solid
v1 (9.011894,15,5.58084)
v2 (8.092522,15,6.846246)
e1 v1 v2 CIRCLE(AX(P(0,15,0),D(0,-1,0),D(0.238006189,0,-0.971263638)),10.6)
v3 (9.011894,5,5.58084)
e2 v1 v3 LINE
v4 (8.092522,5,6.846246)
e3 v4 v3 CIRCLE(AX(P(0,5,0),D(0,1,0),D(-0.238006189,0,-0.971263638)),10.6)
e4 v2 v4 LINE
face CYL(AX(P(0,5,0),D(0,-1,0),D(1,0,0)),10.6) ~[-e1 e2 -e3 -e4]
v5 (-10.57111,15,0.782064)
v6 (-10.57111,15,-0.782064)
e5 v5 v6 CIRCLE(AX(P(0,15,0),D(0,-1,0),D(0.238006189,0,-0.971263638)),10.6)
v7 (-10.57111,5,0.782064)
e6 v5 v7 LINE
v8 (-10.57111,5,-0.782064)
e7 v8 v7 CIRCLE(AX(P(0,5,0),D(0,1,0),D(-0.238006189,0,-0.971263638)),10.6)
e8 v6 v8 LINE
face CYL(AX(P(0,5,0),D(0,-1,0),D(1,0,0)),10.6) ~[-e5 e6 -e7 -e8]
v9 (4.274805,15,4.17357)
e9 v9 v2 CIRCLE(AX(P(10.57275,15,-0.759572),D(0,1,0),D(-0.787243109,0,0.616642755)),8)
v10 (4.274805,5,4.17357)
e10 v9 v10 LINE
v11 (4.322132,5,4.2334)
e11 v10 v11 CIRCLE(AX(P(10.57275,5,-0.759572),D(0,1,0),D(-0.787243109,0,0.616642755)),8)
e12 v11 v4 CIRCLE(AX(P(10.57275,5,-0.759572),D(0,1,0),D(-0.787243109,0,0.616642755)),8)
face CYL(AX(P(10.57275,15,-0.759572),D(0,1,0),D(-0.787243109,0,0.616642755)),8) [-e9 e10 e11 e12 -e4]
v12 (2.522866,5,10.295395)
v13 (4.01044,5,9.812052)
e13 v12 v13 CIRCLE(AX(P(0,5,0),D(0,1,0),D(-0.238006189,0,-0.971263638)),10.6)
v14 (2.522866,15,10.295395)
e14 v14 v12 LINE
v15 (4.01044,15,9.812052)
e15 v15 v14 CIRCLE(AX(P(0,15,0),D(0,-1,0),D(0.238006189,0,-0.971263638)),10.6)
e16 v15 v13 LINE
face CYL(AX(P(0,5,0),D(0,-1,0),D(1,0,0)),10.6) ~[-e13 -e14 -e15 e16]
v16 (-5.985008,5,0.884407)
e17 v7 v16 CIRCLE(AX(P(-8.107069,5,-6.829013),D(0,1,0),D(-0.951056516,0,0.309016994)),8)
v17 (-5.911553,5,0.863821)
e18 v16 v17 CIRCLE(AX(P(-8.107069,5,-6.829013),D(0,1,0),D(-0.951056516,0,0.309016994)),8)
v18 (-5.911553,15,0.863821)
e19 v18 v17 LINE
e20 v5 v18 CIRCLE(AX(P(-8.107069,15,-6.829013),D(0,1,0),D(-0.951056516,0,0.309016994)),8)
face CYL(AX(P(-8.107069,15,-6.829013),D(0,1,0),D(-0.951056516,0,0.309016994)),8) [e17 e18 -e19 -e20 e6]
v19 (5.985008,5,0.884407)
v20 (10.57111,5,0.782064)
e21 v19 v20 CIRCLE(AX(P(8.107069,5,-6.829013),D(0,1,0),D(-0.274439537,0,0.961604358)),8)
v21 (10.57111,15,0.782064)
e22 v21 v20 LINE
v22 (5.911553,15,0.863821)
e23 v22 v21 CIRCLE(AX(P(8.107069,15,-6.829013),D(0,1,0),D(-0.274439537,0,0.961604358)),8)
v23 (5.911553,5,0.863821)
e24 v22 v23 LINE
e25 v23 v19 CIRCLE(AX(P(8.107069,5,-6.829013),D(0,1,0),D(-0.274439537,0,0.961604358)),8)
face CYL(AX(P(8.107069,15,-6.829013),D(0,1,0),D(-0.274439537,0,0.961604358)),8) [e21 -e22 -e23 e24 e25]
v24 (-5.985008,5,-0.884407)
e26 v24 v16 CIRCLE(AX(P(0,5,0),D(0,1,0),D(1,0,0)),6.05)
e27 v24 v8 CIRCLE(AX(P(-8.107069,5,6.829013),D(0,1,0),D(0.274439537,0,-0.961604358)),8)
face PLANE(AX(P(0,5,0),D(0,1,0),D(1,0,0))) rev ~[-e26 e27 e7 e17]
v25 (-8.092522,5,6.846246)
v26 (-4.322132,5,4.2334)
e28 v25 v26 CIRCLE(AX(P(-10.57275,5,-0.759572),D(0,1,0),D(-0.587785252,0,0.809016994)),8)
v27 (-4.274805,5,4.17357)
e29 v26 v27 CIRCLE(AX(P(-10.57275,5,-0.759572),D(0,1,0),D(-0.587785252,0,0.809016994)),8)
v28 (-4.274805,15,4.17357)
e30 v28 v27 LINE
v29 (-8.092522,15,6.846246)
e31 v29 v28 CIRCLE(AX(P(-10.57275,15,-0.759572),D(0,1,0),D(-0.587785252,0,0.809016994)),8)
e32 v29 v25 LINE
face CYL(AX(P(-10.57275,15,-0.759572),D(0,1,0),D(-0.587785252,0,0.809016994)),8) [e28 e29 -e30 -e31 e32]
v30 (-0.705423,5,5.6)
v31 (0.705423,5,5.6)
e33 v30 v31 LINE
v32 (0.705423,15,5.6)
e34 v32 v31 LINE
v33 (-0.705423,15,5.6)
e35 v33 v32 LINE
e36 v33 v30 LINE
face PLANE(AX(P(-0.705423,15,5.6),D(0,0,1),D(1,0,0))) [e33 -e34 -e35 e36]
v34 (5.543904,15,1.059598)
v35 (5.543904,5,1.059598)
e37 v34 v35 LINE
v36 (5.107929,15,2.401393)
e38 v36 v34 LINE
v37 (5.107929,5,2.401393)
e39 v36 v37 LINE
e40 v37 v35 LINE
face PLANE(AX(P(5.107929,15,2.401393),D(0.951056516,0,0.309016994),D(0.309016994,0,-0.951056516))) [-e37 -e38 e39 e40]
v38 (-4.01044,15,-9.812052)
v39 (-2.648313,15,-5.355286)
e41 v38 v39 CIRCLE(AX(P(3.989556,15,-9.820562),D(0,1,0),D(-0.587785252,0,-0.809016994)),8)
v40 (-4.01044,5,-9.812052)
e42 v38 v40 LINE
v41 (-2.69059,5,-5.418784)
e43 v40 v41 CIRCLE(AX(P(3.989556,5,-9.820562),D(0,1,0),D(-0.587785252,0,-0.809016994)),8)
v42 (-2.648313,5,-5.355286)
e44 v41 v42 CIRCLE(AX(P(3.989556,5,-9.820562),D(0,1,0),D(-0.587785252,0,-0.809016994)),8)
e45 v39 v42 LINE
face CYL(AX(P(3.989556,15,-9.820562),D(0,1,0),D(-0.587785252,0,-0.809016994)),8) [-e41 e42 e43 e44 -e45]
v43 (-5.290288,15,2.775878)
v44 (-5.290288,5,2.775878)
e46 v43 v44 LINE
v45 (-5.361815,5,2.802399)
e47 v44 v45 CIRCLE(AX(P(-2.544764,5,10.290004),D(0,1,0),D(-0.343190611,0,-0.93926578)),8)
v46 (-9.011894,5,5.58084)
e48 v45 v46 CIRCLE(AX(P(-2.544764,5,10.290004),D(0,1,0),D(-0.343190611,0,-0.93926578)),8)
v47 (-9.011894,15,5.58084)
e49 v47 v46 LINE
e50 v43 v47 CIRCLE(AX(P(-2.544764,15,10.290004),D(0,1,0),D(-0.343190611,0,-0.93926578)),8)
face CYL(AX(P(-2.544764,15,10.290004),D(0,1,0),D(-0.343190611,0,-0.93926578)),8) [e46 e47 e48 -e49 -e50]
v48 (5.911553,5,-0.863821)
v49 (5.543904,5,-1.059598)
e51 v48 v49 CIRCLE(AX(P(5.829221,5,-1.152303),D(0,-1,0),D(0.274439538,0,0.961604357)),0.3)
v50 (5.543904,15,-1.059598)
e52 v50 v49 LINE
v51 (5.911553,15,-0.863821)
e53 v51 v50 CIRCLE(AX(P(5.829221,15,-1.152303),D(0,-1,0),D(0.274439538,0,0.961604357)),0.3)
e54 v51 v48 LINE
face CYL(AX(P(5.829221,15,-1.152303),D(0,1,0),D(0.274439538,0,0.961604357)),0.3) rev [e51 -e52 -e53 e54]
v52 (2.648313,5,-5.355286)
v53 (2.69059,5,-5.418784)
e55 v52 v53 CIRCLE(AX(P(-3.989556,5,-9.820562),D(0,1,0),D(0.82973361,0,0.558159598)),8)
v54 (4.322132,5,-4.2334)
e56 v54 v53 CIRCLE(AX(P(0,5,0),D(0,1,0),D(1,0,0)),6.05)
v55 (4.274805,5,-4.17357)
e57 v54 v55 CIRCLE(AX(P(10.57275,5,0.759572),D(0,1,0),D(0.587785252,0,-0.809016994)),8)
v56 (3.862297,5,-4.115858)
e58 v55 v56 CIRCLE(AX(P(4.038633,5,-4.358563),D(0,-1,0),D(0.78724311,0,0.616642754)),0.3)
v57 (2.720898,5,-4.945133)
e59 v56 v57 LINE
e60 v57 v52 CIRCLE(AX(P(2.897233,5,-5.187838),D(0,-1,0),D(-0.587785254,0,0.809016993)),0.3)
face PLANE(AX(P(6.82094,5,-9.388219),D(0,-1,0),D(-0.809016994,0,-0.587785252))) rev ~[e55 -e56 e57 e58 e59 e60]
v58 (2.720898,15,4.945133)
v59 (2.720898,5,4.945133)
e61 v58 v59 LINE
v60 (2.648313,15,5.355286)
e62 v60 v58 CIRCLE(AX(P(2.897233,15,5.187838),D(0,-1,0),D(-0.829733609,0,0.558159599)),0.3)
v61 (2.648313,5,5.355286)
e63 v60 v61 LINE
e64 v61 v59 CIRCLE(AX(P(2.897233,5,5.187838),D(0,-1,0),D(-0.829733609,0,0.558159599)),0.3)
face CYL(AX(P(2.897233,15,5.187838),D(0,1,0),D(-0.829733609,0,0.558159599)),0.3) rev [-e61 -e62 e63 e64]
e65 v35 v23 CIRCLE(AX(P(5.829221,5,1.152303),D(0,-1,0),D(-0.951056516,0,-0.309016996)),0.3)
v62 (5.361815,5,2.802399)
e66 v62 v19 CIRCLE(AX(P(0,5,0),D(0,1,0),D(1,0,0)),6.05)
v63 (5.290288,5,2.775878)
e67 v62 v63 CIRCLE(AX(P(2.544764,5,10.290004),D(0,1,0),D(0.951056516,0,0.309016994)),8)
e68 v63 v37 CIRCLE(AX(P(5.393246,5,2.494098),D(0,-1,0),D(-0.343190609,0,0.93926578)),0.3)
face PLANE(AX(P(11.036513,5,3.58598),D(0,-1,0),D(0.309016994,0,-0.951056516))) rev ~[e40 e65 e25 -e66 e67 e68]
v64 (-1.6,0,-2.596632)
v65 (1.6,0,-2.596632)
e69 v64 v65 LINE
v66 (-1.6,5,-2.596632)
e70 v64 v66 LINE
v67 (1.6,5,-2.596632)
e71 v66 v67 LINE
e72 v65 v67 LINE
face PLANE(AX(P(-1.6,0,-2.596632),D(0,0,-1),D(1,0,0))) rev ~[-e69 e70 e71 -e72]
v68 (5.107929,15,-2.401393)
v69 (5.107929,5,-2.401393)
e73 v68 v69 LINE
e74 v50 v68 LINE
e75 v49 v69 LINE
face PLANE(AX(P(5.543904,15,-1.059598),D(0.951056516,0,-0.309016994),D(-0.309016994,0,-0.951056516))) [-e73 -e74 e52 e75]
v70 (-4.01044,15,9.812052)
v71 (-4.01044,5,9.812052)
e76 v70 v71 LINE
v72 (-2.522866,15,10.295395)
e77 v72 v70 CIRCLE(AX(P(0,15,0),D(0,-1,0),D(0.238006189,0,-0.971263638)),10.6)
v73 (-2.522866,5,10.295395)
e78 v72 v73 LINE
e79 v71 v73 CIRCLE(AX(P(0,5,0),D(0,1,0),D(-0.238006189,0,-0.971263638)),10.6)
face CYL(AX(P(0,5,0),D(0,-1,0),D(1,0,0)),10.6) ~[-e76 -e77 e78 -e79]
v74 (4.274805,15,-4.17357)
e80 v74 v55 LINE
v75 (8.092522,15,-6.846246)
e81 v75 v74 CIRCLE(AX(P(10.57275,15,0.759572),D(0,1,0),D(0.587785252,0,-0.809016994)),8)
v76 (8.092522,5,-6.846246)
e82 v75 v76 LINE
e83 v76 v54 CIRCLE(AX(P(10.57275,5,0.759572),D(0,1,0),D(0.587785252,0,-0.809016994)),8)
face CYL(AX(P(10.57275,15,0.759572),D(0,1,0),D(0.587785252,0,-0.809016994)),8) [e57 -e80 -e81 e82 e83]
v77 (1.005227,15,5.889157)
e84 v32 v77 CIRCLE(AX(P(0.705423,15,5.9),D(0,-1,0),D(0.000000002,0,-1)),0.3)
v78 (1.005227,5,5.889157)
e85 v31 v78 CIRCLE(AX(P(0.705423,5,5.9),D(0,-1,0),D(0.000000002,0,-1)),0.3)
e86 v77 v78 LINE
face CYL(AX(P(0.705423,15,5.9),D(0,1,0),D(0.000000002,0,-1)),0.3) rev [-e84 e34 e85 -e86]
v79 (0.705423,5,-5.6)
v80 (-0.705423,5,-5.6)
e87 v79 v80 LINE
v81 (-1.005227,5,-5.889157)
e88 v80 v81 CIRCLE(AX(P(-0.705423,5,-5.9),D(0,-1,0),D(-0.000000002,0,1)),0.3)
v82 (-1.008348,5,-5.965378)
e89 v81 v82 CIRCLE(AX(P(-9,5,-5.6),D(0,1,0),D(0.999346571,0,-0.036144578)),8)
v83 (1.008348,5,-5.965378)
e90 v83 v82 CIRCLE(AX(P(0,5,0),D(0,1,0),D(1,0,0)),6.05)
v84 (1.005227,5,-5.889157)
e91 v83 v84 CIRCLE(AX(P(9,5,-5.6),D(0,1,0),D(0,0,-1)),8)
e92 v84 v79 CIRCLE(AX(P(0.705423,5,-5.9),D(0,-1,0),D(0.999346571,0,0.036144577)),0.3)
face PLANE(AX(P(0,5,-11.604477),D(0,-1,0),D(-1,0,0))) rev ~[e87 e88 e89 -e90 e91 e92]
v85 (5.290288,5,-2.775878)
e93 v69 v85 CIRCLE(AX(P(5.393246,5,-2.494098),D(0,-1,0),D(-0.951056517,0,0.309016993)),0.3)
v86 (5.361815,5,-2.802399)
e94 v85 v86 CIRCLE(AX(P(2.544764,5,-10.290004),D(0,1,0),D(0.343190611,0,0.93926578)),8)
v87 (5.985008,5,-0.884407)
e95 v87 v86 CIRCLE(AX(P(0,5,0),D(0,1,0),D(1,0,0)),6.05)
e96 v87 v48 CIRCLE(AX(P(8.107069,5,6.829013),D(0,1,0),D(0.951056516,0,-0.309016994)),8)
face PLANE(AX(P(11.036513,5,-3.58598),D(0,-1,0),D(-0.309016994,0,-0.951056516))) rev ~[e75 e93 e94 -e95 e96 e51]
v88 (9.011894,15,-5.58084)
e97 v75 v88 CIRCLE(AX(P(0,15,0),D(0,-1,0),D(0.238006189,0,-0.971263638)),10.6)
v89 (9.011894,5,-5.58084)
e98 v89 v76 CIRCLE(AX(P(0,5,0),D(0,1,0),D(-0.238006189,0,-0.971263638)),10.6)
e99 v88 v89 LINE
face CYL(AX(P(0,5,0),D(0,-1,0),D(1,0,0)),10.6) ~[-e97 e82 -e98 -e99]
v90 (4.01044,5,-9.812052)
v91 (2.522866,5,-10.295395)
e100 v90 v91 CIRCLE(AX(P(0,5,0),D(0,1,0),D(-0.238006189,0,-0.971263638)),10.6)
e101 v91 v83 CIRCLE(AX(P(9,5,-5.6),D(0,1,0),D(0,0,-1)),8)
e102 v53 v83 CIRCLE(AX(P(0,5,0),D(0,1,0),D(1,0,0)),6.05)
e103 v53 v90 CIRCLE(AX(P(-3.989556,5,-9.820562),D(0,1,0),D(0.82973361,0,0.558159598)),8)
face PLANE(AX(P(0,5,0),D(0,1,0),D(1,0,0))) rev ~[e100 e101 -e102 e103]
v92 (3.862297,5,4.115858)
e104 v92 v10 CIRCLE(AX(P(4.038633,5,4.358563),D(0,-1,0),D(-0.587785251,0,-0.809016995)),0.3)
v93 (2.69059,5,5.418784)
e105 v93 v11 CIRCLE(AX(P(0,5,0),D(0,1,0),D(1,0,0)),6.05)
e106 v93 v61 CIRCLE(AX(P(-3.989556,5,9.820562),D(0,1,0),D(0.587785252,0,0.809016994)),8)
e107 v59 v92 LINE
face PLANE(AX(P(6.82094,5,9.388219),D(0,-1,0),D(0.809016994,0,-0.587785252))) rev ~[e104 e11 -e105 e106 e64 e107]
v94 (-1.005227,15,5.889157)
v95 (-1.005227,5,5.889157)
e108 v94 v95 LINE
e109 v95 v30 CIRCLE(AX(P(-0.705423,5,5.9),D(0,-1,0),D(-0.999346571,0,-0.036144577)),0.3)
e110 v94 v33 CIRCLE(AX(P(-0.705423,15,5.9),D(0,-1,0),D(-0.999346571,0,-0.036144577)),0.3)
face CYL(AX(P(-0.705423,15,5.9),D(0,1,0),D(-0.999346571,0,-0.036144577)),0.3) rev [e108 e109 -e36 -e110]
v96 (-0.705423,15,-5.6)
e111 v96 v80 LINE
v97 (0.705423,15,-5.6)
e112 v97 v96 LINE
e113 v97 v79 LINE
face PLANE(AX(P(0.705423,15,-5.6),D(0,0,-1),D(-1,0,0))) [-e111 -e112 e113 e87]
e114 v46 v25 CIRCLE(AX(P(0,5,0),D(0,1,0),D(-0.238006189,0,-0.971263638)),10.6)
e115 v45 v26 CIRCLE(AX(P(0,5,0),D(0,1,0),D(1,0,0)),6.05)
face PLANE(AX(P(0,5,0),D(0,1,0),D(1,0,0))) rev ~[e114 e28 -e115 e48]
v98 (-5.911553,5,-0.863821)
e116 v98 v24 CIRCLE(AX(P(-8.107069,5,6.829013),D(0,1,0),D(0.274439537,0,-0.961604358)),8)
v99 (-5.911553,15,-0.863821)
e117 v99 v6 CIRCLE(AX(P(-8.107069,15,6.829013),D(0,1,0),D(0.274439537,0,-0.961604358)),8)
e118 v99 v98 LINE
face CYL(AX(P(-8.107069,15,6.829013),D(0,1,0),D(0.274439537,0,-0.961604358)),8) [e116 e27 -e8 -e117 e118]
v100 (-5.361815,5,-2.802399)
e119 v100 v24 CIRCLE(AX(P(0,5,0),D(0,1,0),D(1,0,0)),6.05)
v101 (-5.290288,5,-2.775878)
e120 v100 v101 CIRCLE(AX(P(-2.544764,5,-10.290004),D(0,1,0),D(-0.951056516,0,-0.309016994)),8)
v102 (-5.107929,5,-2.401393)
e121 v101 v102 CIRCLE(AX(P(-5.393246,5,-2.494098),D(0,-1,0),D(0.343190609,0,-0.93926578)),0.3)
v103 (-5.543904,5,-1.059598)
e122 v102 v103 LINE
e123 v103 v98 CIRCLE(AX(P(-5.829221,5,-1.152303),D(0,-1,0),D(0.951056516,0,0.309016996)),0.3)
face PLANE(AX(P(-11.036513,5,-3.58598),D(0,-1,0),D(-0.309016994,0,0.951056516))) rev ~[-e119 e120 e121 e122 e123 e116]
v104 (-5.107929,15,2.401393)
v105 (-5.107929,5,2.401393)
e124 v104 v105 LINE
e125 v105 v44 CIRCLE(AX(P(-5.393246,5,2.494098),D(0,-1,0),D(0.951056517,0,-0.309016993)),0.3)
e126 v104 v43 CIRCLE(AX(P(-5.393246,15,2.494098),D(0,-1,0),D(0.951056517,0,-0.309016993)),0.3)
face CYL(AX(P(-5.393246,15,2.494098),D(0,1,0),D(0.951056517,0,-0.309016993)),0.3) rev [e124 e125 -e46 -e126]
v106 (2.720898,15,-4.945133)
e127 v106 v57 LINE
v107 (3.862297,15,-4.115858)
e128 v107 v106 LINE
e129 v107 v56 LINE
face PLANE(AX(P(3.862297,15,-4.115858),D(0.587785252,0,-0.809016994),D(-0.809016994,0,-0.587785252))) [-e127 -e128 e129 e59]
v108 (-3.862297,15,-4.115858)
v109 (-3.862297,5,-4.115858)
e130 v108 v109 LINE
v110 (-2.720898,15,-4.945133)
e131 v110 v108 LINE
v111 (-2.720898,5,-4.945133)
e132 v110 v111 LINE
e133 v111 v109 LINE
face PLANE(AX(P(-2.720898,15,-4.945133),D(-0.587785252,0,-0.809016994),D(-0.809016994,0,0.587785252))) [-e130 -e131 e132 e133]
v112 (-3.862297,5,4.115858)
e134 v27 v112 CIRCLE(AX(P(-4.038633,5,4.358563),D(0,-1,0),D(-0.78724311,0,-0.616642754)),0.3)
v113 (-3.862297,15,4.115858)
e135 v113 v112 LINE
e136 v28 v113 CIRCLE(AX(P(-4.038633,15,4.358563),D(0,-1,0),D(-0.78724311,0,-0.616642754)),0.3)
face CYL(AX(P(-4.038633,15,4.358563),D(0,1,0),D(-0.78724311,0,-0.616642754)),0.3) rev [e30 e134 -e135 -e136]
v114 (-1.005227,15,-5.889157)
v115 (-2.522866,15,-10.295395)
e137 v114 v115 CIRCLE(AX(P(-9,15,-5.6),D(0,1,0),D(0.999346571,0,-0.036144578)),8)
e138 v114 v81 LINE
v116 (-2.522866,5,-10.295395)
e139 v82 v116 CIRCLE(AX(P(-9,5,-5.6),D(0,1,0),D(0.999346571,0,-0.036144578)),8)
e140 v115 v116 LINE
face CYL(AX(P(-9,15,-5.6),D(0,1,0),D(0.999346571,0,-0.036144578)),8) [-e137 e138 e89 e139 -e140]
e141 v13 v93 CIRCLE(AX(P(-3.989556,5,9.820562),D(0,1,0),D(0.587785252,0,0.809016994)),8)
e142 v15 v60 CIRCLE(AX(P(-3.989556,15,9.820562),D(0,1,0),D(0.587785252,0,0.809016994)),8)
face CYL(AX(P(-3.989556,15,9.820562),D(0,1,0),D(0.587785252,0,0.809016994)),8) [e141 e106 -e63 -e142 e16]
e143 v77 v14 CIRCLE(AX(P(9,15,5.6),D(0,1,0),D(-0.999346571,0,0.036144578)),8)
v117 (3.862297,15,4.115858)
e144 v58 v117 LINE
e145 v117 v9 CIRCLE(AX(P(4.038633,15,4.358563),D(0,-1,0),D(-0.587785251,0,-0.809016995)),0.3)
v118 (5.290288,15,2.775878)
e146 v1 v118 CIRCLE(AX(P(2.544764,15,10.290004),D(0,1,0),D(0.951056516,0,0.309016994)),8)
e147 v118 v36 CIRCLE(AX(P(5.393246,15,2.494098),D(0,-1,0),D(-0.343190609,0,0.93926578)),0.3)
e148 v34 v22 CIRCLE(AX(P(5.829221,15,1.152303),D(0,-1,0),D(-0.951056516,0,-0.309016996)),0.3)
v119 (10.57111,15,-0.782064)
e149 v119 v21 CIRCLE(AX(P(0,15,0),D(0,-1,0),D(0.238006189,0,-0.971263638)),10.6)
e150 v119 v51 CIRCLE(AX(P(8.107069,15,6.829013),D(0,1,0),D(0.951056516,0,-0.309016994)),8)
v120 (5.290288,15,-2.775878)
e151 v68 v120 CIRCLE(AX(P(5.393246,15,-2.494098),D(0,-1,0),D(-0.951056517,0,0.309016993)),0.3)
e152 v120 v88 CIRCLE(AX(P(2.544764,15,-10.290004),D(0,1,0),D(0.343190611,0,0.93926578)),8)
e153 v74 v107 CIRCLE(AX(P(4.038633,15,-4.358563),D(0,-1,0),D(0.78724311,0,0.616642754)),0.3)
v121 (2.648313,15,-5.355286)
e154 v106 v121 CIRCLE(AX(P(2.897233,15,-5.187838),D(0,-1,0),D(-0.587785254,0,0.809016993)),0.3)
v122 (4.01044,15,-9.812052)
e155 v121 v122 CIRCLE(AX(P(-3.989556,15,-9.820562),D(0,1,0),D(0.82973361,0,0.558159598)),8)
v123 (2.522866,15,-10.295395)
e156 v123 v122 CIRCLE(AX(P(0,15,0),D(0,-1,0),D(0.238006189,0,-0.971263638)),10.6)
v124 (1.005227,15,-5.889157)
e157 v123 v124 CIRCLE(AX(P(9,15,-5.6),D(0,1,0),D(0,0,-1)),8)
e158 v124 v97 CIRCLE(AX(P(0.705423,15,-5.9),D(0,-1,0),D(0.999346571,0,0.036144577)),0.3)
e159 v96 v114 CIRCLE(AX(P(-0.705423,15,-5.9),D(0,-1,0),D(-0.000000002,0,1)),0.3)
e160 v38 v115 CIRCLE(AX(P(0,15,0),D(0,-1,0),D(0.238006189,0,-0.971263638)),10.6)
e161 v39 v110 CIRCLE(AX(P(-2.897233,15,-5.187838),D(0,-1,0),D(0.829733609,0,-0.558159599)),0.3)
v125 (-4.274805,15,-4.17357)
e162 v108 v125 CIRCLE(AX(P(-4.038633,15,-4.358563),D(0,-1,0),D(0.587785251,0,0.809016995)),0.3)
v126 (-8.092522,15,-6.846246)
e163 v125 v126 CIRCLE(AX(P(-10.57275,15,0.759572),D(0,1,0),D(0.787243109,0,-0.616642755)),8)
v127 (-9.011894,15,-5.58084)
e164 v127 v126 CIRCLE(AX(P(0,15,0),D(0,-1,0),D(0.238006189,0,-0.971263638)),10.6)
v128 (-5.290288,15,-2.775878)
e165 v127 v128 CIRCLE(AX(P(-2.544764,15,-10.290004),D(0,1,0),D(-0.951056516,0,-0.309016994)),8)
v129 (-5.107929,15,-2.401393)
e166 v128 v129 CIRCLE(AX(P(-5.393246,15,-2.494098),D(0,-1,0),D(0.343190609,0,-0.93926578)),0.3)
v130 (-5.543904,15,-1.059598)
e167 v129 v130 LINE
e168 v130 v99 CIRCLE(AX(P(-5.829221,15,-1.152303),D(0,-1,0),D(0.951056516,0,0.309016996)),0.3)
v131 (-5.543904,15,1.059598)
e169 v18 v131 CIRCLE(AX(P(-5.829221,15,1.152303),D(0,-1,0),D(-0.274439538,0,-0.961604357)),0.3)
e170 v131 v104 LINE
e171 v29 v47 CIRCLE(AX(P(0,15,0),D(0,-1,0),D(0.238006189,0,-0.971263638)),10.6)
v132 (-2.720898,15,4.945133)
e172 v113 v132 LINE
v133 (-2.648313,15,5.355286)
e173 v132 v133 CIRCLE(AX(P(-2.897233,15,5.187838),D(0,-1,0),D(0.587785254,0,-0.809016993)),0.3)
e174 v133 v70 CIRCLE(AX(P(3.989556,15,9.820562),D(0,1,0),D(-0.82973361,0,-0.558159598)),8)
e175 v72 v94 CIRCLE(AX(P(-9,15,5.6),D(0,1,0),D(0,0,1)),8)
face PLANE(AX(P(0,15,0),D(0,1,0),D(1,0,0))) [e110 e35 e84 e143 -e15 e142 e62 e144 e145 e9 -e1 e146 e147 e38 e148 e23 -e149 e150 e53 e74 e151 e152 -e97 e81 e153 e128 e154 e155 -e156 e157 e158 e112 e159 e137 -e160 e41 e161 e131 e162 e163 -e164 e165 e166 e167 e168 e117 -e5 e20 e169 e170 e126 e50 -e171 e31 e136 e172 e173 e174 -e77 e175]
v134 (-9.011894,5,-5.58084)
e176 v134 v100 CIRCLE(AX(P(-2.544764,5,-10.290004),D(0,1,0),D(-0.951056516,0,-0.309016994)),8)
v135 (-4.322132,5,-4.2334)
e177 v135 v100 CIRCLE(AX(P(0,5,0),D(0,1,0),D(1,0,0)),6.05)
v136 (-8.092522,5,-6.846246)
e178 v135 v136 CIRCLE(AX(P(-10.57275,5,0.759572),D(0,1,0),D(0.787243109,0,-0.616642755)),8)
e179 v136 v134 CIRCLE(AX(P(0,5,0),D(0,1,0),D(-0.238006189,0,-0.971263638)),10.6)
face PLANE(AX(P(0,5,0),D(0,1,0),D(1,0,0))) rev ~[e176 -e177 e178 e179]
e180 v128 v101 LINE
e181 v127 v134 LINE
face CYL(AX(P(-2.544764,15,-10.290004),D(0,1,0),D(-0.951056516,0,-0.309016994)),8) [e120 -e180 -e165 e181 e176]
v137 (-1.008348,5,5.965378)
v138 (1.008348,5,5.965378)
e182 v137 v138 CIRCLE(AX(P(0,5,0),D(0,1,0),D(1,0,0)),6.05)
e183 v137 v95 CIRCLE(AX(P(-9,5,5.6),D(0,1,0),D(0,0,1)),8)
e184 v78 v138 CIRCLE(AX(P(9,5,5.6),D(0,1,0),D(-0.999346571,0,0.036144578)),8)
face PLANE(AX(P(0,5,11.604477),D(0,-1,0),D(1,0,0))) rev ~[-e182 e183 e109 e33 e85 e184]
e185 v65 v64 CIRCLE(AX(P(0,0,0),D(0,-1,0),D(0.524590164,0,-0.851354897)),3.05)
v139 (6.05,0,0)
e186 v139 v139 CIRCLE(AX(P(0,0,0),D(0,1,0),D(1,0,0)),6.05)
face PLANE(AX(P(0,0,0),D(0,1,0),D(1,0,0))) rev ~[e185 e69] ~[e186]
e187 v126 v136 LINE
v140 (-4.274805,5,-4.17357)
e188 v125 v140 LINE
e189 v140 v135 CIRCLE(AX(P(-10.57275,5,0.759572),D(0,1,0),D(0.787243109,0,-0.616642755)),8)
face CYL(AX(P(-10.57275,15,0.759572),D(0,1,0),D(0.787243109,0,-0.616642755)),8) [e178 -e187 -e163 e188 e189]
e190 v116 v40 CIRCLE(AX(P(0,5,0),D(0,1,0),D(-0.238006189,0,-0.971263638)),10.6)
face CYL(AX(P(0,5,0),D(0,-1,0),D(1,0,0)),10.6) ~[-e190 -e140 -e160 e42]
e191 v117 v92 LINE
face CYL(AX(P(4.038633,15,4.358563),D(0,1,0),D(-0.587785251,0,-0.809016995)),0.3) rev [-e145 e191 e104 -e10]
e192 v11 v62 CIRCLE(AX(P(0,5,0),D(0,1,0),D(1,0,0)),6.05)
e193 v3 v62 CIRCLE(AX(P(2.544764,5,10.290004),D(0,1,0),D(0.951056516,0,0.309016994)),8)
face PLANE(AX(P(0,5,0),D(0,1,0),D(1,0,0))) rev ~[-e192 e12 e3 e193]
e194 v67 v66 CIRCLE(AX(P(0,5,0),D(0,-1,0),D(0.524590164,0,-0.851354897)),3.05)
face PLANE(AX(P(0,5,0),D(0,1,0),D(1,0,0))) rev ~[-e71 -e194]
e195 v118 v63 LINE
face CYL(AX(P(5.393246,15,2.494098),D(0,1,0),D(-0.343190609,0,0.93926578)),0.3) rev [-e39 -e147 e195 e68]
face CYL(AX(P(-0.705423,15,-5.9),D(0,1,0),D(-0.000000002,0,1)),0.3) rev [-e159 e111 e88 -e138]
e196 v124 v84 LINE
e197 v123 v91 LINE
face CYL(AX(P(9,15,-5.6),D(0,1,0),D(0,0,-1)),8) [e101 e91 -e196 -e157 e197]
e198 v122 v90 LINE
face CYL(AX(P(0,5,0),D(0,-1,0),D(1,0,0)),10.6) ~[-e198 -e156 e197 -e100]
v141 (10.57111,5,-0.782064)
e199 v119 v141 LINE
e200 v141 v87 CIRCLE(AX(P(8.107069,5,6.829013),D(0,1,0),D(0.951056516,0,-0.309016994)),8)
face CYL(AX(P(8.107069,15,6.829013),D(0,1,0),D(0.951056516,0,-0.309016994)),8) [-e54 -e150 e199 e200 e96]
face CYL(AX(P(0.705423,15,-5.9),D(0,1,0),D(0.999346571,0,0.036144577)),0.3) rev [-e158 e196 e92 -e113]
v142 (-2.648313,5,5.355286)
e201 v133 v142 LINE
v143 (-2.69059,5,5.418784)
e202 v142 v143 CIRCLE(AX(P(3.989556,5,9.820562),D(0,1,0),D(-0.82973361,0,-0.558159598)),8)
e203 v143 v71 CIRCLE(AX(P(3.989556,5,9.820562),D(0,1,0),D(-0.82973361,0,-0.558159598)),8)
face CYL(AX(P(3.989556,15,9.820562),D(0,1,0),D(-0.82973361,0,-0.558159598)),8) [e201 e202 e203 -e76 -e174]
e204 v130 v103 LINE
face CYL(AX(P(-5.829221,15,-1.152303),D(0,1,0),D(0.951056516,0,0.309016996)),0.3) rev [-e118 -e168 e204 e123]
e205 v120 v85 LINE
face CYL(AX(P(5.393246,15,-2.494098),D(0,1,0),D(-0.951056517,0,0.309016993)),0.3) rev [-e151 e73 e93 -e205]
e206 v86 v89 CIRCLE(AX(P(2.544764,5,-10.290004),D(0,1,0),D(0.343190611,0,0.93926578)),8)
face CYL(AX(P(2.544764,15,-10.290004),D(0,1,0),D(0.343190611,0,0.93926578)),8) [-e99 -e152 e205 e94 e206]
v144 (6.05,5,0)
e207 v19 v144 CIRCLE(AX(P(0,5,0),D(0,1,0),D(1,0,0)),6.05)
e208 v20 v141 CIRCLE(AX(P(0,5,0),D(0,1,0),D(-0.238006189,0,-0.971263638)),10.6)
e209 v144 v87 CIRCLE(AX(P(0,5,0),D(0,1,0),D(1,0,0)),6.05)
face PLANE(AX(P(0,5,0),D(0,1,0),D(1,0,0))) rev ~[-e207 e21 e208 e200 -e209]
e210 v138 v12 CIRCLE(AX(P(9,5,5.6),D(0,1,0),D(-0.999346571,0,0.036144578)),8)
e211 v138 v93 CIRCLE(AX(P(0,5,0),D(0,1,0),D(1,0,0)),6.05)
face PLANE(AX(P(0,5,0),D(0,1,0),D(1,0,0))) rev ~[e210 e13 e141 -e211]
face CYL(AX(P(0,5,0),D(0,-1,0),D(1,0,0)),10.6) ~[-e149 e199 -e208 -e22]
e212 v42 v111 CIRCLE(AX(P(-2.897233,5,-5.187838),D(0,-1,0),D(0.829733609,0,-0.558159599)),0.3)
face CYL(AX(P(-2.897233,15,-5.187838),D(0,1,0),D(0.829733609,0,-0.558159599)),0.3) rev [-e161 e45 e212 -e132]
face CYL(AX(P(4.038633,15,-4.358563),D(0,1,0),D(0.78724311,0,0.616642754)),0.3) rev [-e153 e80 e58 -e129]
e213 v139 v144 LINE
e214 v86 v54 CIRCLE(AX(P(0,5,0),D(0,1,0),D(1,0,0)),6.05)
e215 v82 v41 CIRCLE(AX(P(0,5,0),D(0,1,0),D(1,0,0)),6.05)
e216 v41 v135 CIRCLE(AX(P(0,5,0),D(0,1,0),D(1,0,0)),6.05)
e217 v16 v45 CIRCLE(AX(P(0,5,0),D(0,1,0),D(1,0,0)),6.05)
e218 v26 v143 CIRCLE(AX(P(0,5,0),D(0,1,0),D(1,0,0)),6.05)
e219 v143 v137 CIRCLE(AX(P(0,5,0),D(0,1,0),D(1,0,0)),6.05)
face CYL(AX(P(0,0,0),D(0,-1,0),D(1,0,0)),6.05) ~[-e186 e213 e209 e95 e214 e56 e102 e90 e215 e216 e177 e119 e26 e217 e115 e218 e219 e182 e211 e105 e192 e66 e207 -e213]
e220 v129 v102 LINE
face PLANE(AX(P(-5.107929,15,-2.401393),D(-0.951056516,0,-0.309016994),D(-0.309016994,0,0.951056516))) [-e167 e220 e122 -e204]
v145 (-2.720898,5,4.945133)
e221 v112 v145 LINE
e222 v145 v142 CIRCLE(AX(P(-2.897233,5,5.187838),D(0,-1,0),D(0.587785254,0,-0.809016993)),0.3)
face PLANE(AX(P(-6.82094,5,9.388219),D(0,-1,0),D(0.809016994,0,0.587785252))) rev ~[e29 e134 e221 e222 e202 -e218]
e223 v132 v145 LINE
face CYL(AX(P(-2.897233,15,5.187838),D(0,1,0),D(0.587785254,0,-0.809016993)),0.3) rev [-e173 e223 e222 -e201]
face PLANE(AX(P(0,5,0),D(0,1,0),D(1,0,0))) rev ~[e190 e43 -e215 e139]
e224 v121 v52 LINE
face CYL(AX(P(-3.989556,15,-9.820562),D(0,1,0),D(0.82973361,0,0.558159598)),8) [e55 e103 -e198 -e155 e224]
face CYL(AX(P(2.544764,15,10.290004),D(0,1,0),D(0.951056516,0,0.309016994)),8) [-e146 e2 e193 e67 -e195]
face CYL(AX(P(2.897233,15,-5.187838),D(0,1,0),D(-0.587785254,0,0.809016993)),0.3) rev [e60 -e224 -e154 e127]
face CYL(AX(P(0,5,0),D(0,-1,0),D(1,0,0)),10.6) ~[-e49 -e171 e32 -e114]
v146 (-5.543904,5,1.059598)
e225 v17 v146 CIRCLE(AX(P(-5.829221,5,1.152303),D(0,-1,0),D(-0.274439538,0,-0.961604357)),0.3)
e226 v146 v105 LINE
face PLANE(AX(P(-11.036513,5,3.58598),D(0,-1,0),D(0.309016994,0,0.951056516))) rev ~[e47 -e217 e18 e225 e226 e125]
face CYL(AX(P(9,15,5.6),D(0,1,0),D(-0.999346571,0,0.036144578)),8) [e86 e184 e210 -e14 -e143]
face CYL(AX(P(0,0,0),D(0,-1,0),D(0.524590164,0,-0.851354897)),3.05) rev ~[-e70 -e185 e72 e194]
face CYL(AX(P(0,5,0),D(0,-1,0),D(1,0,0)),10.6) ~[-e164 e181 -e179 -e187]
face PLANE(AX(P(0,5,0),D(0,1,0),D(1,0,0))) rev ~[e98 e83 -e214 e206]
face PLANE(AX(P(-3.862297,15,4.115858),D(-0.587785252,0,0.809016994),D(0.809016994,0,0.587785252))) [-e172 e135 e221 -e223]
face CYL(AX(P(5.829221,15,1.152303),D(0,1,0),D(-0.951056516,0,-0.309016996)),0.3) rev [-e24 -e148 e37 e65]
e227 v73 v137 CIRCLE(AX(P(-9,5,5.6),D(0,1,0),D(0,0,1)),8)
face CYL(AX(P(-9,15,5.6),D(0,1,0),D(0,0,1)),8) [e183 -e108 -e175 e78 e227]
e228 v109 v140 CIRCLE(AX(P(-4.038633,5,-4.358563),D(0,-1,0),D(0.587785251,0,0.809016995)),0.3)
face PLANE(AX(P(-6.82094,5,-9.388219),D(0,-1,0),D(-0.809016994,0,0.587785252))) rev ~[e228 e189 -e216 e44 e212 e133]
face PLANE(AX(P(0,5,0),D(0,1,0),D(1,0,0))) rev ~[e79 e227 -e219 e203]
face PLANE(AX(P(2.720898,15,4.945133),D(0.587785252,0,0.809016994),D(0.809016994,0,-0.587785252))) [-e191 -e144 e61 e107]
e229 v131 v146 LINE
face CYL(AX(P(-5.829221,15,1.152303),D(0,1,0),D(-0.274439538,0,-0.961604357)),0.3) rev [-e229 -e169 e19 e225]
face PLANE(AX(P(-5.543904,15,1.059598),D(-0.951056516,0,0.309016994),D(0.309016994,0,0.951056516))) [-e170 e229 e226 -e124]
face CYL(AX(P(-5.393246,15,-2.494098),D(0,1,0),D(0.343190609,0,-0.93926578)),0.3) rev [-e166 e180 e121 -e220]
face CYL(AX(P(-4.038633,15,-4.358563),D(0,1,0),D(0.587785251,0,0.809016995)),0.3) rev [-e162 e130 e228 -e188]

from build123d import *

# Parameters (mm, degrees)
SKETCH1_R           = 6.05
BOSS_EXTRUDE1_DEPTH = 5
SKETCH2_R           = 10.6
BOSS_EXTRUDE2_DEPTH = 10
CUT_EXTRUDE1_DEPTH  = 10
CIRPATTERN1_COUNT   = 10


with BuildPart() as part:
    # Sketch1 → Boss-Extrude1 (new body)
    with BuildSketch(Plane(origin=(0, 0, 0), x_dir=(1, 0, 0), z_dir=(0, 1, 0))):
        Circle(SKETCH1_R)
        with BuildLine():
            Line((-1.6, 2.596632435), (1.6, 2.596632435))
            ThreePointArc((1.6, 2.596632435), (0, -3.05), (-1.6, 2.596632435))
        make_face(mode=Mode.SUBTRACT)
    extrude(amount=BOSS_EXTRUDE1_DEPTH)

    # Sketch2 → Boss-Extrude2 (add)
    with BuildSketch(Plane(origin=(0, 5, 0), x_dir=(1, 0, 0), z_dir=(0, 1, 0))):
        Circle(SKETCH2_R)
    extrude(amount=BOSS_EXTRUDE2_DEPTH)

    # Sketch3 → Cut-Extrude1 (cut)
    with BuildSketch(Plane(origin=(0, 15, 0), x_dir=(1, 0, 0), z_dir=(0, 1, 0))):
        with BuildLine():
            Line((0.705423459, 5.6), (-0.705423459, 5.6))
            ThreePointArc((-0.705423459, 5.6), (-0.913686499, 5.684068284), (-1.00522743, 5.889156627))
            ThreePointArc((-1.00522743, 5.889156627), (-3.446318924, 11.358179096), (-9, 13.6))
            Line((-9, 13.6), (9, 13.6))
            ThreePointArc((9, 13.6), (3.446318924, 11.358179096), (1.00522743, 5.889156627))
            ThreePointArc((1.00522743, 5.889156627), (0.913686499, 5.684068284), (0.705423459, 5.6))
        make_face()
    cut_extrude1 = extrude(amount=-CUT_EXTRUDE1_DEPTH, mode=Mode.SUBTRACT)

    # CirPattern1: Cut-Extrude1 ×10 about axis
    cirpattern1_axis = Axis((0, 0, 0), (0, 1, 0))
    for i in range(1, CIRPATTERN1_COUNT):
        add(cut_extrude1.rotate(cirpattern1_axis, i * 360 / CIRPATTERN1_COUNT), mode=Mode.SUBTRACT)


solid = part.part
